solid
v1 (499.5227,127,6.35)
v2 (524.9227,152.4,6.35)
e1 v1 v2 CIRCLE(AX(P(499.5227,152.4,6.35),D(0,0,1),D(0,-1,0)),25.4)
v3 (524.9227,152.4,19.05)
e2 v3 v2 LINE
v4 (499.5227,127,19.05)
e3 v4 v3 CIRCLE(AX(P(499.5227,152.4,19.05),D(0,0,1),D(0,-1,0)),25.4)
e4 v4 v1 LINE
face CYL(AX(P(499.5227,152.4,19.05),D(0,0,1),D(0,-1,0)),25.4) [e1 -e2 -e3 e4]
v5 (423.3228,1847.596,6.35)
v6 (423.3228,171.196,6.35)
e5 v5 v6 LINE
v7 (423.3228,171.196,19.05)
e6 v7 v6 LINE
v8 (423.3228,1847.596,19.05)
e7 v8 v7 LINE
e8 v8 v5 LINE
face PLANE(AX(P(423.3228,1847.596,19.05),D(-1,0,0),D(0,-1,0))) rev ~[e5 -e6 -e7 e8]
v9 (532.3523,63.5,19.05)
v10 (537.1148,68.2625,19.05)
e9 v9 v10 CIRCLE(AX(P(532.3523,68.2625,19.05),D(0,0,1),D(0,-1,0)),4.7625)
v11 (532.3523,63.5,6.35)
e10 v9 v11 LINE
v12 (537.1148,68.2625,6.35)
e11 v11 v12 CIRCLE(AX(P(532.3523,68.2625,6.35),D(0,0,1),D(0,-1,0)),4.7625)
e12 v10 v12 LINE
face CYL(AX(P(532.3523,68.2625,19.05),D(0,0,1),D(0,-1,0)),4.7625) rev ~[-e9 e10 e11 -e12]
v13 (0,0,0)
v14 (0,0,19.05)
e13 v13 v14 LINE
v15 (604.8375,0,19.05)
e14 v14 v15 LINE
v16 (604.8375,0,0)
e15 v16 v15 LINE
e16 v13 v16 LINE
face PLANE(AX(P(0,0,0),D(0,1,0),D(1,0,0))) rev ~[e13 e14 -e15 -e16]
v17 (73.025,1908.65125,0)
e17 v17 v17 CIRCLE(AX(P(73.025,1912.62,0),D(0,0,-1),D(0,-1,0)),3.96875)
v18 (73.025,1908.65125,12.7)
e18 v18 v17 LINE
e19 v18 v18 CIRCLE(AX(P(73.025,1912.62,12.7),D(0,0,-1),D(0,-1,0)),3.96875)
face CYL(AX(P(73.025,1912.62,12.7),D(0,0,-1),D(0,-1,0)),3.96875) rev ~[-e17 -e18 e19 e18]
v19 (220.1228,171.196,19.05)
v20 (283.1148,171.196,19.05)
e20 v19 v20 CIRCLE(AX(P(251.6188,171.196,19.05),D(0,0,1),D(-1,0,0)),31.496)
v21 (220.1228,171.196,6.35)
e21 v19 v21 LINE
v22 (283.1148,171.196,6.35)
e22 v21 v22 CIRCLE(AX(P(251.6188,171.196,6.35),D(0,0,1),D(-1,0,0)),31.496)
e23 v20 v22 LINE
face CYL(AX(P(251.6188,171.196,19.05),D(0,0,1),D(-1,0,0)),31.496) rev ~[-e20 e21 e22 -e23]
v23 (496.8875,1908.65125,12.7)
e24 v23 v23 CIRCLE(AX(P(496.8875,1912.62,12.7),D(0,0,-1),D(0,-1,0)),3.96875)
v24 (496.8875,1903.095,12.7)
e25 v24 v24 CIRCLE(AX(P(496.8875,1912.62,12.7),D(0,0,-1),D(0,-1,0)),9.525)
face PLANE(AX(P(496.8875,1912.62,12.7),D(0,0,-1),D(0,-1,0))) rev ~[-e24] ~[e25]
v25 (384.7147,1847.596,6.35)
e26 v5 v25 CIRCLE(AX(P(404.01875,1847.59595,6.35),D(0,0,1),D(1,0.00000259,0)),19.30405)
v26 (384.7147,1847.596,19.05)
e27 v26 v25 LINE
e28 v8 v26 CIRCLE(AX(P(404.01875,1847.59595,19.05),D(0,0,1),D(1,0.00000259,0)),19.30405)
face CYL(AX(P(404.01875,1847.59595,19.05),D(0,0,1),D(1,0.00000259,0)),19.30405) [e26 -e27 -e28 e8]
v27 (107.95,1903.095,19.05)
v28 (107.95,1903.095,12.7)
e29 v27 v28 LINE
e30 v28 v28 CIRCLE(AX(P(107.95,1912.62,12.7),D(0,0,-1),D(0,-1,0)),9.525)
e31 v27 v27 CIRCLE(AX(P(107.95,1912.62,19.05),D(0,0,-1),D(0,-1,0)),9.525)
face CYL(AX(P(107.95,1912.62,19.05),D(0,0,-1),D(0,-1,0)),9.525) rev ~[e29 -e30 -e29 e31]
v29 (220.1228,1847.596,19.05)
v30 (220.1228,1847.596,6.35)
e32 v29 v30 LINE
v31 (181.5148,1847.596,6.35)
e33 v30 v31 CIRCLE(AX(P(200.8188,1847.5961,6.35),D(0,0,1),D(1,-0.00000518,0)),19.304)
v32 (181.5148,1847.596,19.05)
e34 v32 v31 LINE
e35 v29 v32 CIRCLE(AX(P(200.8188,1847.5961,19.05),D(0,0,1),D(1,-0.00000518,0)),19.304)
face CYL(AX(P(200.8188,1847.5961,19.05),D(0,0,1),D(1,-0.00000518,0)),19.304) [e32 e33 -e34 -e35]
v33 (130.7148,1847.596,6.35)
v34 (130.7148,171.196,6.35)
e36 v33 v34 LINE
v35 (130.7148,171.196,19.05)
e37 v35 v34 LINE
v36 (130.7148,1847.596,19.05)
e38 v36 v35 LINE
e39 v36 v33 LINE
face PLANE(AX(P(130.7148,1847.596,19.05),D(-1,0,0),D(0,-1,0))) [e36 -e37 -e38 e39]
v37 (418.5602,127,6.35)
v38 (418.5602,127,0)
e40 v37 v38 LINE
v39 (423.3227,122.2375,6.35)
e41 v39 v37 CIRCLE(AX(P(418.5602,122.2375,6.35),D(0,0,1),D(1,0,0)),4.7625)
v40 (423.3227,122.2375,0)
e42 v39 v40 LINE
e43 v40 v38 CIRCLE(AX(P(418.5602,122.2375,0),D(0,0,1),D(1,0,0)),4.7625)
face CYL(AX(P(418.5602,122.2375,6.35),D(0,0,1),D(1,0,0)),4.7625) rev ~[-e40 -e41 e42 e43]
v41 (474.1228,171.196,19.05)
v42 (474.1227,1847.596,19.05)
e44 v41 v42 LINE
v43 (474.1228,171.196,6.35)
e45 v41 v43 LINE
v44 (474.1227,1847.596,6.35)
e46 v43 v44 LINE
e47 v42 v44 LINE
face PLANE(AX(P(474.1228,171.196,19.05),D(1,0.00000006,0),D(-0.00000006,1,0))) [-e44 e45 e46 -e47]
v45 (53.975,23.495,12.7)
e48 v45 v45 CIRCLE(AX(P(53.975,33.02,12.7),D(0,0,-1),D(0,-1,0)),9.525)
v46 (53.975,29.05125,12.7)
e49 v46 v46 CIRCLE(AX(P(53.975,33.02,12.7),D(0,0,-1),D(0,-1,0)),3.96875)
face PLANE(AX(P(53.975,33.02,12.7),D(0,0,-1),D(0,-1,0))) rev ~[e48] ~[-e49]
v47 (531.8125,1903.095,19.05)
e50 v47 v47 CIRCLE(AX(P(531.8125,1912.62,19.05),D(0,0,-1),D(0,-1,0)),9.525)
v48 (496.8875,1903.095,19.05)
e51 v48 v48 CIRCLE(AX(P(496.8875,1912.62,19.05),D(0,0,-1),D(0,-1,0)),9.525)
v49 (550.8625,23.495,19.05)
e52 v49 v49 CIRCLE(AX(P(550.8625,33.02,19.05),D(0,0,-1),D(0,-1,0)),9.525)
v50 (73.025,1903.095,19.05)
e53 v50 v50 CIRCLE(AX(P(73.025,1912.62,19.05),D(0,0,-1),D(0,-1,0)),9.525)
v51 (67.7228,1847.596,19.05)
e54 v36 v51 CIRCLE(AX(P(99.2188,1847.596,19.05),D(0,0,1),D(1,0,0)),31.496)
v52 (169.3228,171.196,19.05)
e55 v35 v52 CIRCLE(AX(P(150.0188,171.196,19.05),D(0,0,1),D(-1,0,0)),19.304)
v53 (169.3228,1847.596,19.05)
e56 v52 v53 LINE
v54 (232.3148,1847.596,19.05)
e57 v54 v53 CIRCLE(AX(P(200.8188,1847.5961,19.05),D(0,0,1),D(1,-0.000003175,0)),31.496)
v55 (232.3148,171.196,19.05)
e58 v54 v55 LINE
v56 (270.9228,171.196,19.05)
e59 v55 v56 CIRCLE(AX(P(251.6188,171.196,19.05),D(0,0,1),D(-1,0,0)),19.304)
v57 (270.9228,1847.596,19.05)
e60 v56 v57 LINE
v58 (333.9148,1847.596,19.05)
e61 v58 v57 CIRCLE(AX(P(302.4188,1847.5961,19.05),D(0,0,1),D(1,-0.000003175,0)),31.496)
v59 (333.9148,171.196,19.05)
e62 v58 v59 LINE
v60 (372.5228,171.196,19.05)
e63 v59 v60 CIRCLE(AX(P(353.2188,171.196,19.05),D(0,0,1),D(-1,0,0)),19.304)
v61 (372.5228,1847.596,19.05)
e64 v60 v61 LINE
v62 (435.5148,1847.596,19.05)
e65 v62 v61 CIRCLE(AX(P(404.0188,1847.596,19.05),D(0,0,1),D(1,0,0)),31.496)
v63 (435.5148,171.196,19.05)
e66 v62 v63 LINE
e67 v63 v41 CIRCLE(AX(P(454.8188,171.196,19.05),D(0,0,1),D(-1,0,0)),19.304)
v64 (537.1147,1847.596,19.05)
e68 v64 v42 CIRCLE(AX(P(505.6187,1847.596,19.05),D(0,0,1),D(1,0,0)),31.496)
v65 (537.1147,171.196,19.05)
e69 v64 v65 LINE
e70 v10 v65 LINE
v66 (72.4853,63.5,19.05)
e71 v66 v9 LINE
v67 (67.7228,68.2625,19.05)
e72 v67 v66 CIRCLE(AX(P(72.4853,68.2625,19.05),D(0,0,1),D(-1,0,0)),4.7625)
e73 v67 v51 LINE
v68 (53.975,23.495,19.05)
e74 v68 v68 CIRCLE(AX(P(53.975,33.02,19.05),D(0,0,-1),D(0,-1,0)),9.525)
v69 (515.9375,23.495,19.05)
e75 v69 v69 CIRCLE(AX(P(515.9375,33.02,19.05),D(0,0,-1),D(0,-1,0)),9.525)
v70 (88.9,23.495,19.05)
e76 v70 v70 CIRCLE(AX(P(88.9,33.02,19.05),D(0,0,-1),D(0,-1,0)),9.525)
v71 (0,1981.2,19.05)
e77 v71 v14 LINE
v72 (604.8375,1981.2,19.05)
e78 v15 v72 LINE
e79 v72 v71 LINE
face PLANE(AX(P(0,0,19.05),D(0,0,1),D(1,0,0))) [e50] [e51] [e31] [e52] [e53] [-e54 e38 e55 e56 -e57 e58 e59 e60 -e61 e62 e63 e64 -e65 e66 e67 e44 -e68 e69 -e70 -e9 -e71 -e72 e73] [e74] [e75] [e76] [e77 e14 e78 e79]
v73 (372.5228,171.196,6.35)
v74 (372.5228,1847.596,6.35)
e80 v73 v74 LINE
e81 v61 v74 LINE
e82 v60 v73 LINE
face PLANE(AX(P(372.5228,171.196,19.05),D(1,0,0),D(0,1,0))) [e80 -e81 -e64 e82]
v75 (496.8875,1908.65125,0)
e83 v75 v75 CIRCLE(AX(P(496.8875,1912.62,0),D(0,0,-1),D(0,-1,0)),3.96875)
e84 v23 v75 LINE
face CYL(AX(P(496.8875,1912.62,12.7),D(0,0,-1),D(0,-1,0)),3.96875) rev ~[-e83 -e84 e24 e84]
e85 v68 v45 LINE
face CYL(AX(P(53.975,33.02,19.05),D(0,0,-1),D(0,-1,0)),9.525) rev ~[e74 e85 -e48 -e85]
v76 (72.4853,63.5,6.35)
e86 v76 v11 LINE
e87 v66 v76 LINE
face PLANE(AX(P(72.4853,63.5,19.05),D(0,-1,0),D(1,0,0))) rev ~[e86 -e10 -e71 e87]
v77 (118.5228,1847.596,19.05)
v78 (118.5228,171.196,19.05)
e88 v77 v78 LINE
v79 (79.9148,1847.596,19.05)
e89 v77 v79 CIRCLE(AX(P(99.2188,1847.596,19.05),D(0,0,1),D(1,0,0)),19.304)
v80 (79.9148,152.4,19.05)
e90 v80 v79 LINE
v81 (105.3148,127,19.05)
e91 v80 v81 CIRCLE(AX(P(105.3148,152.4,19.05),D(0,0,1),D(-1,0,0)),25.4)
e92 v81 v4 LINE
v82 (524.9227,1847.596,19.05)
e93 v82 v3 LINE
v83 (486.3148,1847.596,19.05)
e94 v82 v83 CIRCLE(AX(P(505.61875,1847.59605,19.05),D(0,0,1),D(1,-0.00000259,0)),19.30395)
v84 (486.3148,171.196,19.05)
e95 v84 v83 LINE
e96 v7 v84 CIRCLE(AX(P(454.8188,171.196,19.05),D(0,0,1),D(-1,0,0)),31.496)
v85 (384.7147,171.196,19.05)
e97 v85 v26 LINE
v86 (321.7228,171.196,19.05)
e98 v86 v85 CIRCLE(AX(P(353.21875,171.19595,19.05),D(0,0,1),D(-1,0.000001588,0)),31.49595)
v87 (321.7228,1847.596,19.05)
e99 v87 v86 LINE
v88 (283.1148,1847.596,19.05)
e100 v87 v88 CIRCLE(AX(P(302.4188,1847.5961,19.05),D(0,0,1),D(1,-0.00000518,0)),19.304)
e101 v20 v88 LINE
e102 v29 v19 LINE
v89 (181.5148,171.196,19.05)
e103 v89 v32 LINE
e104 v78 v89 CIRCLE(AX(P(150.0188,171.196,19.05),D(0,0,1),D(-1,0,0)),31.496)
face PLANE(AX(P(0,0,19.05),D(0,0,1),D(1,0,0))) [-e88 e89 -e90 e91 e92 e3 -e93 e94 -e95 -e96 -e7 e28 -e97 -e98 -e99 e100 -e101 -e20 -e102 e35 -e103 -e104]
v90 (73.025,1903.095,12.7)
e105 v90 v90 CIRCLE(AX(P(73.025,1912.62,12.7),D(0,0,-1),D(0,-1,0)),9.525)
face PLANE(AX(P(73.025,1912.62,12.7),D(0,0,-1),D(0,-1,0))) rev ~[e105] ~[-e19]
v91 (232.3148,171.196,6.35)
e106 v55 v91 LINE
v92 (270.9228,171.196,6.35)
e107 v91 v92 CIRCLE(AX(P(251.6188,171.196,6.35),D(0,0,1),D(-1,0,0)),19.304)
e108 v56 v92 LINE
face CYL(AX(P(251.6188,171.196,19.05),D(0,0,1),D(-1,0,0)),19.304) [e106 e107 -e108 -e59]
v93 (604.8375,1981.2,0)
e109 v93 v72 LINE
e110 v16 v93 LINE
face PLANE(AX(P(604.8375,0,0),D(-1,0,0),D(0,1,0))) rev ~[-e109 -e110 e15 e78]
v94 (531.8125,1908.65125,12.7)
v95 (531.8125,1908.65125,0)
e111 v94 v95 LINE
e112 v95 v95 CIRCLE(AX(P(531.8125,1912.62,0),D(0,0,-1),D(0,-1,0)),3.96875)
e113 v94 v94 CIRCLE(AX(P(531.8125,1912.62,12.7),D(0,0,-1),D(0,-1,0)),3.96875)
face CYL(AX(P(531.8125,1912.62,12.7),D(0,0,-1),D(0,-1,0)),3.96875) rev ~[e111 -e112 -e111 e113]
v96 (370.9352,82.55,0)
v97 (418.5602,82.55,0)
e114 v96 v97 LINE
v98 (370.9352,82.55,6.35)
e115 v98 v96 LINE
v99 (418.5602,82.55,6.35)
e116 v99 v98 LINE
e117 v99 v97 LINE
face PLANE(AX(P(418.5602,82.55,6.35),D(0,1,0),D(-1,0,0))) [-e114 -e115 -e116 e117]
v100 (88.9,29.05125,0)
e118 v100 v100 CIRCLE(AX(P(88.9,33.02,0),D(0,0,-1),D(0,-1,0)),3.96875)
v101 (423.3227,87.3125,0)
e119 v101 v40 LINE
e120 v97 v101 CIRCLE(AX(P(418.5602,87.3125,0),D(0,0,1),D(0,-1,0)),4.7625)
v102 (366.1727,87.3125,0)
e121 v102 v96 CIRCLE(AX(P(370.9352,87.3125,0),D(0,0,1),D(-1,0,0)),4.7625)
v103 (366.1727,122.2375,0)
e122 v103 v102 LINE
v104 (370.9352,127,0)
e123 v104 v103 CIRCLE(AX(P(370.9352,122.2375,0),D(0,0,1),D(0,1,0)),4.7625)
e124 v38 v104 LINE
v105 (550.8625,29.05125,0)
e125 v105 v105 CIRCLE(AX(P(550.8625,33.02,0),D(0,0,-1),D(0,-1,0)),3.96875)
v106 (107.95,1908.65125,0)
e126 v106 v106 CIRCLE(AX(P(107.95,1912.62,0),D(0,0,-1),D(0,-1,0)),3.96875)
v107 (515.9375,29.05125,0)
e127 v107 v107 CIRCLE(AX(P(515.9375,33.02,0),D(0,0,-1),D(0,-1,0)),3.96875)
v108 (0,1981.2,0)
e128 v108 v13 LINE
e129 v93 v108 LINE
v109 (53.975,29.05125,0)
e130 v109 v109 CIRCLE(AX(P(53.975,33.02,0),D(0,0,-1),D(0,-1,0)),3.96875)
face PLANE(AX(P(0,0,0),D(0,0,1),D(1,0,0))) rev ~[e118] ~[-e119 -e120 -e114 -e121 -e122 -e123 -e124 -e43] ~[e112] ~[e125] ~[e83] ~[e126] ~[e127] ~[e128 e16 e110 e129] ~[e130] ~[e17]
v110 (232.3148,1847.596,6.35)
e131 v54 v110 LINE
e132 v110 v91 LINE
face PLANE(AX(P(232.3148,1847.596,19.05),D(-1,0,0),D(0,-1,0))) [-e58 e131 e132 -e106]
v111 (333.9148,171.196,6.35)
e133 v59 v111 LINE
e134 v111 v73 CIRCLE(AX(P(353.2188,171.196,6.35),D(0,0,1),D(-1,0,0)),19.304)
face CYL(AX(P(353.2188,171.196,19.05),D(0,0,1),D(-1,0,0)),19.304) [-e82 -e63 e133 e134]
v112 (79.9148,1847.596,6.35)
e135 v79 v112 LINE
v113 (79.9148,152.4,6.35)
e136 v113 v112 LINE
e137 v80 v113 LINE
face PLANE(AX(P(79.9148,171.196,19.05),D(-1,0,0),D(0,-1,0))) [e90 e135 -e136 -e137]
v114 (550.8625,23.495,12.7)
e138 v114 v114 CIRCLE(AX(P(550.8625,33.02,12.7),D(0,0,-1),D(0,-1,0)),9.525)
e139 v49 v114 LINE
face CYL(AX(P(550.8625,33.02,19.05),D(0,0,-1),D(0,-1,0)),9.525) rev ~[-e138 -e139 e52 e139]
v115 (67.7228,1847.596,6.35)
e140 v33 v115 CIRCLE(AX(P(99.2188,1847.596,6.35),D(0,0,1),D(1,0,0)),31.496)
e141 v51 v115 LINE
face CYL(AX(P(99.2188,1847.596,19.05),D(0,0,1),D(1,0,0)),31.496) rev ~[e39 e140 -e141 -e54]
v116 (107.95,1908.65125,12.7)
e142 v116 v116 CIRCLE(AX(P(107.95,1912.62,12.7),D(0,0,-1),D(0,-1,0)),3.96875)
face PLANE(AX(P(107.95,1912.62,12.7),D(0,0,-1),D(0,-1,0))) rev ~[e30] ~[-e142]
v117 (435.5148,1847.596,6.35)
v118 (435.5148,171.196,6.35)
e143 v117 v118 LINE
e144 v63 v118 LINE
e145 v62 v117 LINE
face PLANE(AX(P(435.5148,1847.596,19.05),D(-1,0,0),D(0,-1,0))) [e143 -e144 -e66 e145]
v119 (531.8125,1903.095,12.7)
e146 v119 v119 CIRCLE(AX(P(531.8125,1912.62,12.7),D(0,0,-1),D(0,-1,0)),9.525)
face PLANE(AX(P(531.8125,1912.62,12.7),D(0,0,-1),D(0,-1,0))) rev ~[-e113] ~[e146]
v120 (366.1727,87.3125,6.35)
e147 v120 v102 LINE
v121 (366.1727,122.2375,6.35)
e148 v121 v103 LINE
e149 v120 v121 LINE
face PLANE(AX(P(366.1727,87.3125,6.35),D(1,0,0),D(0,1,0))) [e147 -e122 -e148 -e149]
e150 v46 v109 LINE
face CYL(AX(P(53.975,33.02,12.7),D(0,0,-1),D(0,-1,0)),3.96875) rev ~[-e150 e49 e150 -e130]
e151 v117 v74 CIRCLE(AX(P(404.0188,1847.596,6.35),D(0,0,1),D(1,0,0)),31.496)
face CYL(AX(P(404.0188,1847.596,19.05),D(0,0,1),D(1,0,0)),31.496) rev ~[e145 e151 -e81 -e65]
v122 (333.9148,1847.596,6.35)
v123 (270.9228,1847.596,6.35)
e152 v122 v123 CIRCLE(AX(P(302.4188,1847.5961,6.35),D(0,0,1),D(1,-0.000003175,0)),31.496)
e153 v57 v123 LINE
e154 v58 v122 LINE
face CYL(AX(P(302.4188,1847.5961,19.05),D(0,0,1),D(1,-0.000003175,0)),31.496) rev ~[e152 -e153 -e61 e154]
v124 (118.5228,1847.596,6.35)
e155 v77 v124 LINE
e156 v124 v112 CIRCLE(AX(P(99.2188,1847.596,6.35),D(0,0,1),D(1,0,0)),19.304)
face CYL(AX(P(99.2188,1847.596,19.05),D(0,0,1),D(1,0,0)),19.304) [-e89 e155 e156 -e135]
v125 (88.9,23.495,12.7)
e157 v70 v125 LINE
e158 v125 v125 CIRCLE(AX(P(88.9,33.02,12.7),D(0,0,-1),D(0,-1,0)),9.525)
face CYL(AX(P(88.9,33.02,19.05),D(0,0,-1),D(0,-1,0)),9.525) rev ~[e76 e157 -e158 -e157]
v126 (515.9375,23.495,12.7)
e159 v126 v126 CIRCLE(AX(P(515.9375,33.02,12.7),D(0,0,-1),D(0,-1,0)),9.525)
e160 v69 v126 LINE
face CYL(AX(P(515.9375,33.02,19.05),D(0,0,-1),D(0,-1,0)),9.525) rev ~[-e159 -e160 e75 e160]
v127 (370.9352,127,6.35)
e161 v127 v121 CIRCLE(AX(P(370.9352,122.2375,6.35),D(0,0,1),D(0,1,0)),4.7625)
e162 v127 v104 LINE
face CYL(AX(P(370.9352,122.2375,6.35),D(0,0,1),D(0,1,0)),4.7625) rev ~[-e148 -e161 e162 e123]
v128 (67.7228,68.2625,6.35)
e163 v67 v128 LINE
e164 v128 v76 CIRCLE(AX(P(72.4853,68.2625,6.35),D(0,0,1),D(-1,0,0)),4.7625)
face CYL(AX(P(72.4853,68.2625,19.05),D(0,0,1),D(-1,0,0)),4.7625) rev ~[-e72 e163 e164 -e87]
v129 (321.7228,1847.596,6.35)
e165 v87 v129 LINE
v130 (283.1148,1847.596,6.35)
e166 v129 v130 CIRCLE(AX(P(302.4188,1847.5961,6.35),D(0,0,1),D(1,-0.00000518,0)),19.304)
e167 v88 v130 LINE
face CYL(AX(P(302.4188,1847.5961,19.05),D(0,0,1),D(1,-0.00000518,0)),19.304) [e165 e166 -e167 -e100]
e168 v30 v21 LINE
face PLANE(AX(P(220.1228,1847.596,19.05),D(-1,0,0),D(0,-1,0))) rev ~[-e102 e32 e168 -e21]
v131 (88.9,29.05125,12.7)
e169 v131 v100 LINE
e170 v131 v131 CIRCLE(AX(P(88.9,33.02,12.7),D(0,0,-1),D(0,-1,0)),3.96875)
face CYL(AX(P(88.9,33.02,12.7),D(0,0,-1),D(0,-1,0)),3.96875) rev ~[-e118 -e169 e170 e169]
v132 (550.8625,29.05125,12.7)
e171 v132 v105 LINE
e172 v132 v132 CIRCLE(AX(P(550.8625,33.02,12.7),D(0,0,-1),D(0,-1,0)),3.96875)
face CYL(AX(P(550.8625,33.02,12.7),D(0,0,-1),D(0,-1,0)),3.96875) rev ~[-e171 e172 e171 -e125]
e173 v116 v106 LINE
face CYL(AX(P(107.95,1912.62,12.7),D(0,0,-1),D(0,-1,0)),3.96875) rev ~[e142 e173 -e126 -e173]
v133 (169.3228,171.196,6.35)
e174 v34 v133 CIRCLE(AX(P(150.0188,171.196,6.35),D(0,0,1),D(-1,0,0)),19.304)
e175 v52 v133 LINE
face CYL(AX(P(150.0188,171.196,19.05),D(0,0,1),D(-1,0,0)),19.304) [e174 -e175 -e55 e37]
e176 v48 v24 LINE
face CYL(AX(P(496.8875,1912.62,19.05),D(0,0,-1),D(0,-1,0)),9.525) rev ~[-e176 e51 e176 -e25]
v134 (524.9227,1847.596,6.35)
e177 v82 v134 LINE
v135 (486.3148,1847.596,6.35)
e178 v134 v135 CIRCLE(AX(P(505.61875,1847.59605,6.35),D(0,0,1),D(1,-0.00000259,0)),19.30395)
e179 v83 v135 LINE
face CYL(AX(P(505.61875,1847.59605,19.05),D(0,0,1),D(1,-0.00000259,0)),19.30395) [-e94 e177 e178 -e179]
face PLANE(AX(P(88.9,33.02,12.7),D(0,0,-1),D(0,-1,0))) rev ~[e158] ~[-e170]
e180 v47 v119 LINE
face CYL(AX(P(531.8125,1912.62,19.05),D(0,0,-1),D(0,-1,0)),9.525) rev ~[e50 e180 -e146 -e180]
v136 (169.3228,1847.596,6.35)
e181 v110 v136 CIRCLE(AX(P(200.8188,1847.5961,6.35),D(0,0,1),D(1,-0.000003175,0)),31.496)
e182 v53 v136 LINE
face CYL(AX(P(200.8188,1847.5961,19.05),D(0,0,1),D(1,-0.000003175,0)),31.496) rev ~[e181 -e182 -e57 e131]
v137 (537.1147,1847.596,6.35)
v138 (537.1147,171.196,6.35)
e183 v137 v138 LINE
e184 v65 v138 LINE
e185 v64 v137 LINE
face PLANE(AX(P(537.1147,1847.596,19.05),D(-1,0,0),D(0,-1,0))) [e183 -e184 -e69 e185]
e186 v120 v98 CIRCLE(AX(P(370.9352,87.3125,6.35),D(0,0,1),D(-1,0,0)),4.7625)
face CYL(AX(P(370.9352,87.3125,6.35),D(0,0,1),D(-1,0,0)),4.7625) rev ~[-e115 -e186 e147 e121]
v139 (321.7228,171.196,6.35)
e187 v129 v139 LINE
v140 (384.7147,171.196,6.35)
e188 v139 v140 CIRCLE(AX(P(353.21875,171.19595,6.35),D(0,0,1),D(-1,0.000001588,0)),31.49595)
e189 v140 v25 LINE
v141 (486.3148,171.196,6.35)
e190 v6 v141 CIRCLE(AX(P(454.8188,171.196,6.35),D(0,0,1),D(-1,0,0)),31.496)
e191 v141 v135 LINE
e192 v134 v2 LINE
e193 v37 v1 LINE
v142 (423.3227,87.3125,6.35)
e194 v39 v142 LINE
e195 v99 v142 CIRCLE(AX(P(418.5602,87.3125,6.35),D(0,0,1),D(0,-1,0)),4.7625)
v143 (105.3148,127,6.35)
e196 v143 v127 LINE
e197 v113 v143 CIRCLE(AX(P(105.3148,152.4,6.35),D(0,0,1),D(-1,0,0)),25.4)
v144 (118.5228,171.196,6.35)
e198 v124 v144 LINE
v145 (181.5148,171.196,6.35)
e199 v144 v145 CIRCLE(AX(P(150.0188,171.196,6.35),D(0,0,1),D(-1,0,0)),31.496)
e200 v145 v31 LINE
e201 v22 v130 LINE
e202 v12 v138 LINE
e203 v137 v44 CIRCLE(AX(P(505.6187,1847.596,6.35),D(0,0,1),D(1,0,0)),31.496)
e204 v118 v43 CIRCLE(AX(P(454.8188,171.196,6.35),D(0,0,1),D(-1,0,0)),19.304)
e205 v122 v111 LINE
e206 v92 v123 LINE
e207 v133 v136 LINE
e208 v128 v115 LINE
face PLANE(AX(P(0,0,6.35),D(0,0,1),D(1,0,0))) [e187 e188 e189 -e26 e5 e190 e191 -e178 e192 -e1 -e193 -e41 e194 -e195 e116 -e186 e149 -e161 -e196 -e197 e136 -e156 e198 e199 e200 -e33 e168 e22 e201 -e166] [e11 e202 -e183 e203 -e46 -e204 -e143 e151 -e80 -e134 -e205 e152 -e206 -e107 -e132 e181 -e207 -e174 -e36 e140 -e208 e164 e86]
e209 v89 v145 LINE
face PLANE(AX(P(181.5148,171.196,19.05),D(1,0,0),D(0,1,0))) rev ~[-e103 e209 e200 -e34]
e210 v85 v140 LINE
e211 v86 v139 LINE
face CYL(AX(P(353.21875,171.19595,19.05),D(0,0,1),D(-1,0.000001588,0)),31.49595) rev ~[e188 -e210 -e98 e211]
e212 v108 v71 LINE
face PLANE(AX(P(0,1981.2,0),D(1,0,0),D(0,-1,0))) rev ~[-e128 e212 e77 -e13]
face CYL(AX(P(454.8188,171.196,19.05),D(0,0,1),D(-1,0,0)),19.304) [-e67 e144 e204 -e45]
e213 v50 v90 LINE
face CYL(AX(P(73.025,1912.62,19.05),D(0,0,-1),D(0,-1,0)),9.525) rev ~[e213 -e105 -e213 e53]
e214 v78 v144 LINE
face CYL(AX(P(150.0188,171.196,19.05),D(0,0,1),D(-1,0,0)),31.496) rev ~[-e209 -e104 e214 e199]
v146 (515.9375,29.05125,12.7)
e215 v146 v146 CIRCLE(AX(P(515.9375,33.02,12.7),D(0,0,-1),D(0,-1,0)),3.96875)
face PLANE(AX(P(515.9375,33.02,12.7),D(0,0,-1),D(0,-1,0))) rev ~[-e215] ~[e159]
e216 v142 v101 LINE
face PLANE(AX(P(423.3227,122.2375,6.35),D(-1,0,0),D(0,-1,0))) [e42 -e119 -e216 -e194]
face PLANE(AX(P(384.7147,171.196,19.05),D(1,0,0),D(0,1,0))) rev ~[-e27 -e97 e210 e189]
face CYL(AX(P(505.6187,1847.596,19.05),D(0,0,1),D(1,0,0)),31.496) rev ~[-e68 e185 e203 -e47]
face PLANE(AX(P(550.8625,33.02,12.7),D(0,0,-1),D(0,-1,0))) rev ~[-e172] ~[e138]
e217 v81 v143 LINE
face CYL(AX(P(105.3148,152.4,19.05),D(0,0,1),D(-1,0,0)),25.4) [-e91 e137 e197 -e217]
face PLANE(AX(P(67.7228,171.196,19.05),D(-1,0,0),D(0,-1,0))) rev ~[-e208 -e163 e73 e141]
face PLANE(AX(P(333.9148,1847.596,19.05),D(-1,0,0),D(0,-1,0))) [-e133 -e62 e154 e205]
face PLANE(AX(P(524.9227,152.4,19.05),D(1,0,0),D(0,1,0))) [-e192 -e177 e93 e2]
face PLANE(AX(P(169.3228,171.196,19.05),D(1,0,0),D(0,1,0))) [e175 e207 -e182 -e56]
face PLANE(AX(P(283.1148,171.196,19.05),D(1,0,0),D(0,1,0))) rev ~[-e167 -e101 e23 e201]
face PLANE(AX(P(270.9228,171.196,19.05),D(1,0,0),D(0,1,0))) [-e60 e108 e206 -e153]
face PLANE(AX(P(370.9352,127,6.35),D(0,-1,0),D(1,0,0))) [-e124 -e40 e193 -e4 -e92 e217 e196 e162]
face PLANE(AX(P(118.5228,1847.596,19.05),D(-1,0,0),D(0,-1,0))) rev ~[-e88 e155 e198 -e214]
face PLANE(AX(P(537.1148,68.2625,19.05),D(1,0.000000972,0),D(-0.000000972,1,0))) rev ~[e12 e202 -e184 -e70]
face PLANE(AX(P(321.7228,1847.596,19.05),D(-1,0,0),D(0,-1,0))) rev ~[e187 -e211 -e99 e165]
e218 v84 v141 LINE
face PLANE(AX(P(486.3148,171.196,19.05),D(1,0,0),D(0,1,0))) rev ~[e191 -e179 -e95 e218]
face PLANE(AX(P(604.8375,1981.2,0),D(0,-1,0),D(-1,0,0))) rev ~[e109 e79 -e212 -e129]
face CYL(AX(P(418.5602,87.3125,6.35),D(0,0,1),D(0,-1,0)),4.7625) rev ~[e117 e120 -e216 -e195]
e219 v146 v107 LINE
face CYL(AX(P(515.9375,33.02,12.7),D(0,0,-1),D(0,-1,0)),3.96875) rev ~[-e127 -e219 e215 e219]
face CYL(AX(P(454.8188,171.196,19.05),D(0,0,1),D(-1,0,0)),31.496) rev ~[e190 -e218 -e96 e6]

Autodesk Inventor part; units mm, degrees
ref_plane "YZ Plane" through (0, 0, 0) normal (1, 0, 0) x (0, 1, 0)
ref_plane "XZ Plane" through (0, 0, 0) normal (0, 1, 0) x (-1, 0, 0)
ref_plane "XY Plane" through (0, 0, 0) normal (0, 0, 1) x (1, 0, 0)
sketch "TwoLineColumn" plane through (0, 0, 0) normal (0, 0, 1) x (1, 0, 0)
  line L0 (50.8, -753.9609) -> (50.8, 922.4391) construction
  line L1 (101.6, -753.9609) -> (101.6, 922.4391) construction
  arc A0 (101.6, 922.4391) -> (50.8, 922.4391) centre (76.2, 922.4391) ccw construction
  arc A1 (101.6, -753.9609) -> (152.4, -753.9609) centre (127, -753.9609) ccw construction
  line L2 (56.896, -753.9609) -> (56.896, 922.4391)
  arc A2 (95.504, 922.4391) -> (56.896, 922.4391) centre (76.2, 922.4391) ccw
  line L3 (95.504, 922.4391) -> (95.504, -753.9609)
  arc A3 (95.504, -753.9609) -> (158.496, -753.9609) centre (127, -753.9609) ccw
  line L4 (44.704, -753.9609) -> (44.704, 922.4391)
  arc A4 (107.696, 922.4391) -> (44.704, 922.4391) centre (76.2, 922.4391) ccw
  line L5 (107.696, 922.4391) -> (107.696, -753.9609)
  arc A5 (107.696, -753.9609) -> (146.304, -753.9609) centre (127, -753.9609) ccw
  line L6 (50.8, -753.9609) -> (152.4, -753.9609) construction
  dimension "d4" = 1676.4
  dimension "lineSpacing" = 50.8
  dimension "d6" = 25.4
  dimension "d9" = 6.096
  dimension "d10" = 6.096
sketch "TwoLineColumnEnd" plane through (0, 0, 0) normal (0, 0, 1) x (1, 0, 0)
  line L0 (103.0524, -945.1843) -> (103.0524, 731.2157)
  arc A0 (166.0444, 731.2157) -> (103.0524, 731.2157) centre (134.5484, 731.2157) ccw
  line L1 (166.0444, 731.2157) -> (166.0444, -945.1843)
  line L2 (109.1484, -945.1843) -> (109.1484, 731.2157) construction
  line L3 (159.9484, -945.1843) -> (159.9484, 731.2157) construction
  arc A1 (159.9484, 731.2157) -> (109.1484, 731.2157) centre (134.5484, 731.2157) ccw construction
  line L4 (115.2444, -945.1843) -> (115.2444, 731.2157)
  arc A2 (153.8524, 731.2157) -> (115.2444, 731.2157) centre (134.5484, 731.2157) ccw
  line L5 (153.8524, 731.2157) -> (153.8524, -945.1843)
  line L6 (109.1484, -945.1843) -> (159.9484, -945.1843) construction
  dimension "d22" = 1676.4
  dimension "d23" = 50.8
  dimension "d25" = 6.096
  dimension "d26" = 6.096
  dimension "d29" = 50.8
sketch "15mm Neon profile" plane through (0, 0, 0) normal (0, 0, 1) x (1, 0, 0)
  circle A0 centre (522.6685, 24.7098) radius 6.985 construction
  line L0 (516.6995, 21.082) -> (528.6375, 21.082) construction
  line L1 (528.6375, 21.082) -> (528.6375, 6.35) construction
  line L2 (528.6375, 6.35) -> (516.6995, 6.35) construction
  line L3 (516.6995, 6.35) -> (516.6995, 21.082) construction
  point P0 (522.6685, 16.011)
  dimension "d73" = 13.97
  dimension "d74" = 11.938
  dimension "d76" = 14.732
sketch "U Bolt hole and bore" plane through (0, 0, 0) normal (0, 0, 1) x (1, 0, 0)
  circle A0 centre (40.0435, 30.4025) radius 9.525
  circle A1 centre (74.9685, 30.4025) radius 9.525
  circle A2 centre (40.0435, 30.4025) radius 3.9688
  circle A3 centre (74.9685, 30.4025) radius 3.9688
  point P0 (68.2625, 33.02)
  dimension "d100" = 19.05
  dimension "d102" = 34.925
  dimension "d105" = 7.9375
sketch "Stock" plane through (0, 0, 0) normal (0, 0, 1) x (1, 0, 0)
  line L0 (0, 0) -> (604.8375, 0)
  line L1 (604.8375, 0) -> (604.8375, 1981.2)
  line L2 (604.8375, 1981.2) -> (0, 1981.2)
  line L3 (0, 1981.2) -> (0, 0)
  dimension "d1" = 604.8375
  dimension "d2" = 1981.2
extrude "Stck Extrusion" add sketch "Stock" along normal blind 19.05
sketch "LEDPocket" plane through (0, 0, 19.05) normal (0, 0, 1) x (1, 0, 0)
  line L0 (0, 0) -> (604.8375, 0) projected
  line L1 (604.8375, 0) -> (604.8375, 1981.2) projected
  line L2 (63.5, 1981.2) -> (63.5, 0) construction
  line L3 (541.3375, 1981.2) -> (541.3375, 0) construction
  line L4 (67.7228, 171.196) -> (67.7228, 68.2625)
  line L5 (72.4853, 63.5) -> (532.3523, 63.5)
  line L6 (537.1148, 68.2625) -> (537.1147, 171.196)
  line L7 (79.9148, 171.196) -> (79.9148, 152.4)
  line L8 (105.3148, 127) -> (499.5227, 127)
  line L9 (524.9227, 152.4) -> (524.9227, 171.196)
  arc A0 (79.9148, 152.4) -> (105.3148, 127) centre (105.3148, 152.4) ccw
  arc A1 (499.5227, 127) -> (524.9227, 152.4) centre (499.5227, 152.4) ccw
  arc A2 (67.7228, 68.2625) -> (72.4853, 63.5) centre (72.4853, 68.2625) ccw
  arc A3 (532.3523, 63.5) -> (537.1148, 68.2625) centre (532.3523, 68.2625) ccw
  line L10 (474.1228, 171.196) -> (474.1227, 1847.596)
  arc A4 (537.1147, 1847.596) -> (474.1227, 1847.596) centre (505.6187, 1847.596) ccw
  line L11 (537.1147, 1847.596) -> (537.1147, 171.196)
  line L12 (480.2188, 171.196) -> (480.2188, 1847.596) construction
  line L13 (531.0187, 171.196) -> (531.0187, 1847.596) construction
  arc A5 (531.0187, 1847.596) -> (480.2188, 1847.596) centre (505.6187, 1847.596) ccw construction
  line L14 (486.3148, 171.196) -> (486.3148, 1847.596)
  arc A6 (524.9227, 1847.596) -> (486.3148, 1847.596) centre (505.6187, 1847.596) ccw
  line L15 (524.9227, 1847.596) -> (524.9227, 171.196)
  line L16 (480.2188, 171.196) -> (531.0187, 171.196) construction
  line L17 (67.7228, 171.196) -> (67.7228, 1847.596)
  arc A7 (130.7148, 1847.596) -> (67.7228, 1847.596) centre (99.2188, 1847.596) ccw
  line L18 (130.7148, 1847.596) -> (130.7148, 171.196)
  arc A8 (130.7148, 171.196) -> (169.3228, 171.196) centre (150.0188, 171.196) ccw
  line L19 (73.8188, 171.196) -> (73.8188, 1847.596) construction
  line L20 (124.6188, 171.196) -> (124.6188, 1847.596) construction
  arc A9 (124.6188, 1847.596) -> (73.8188, 1847.596) centre (99.2188, 1847.596) ccw construction
  arc A10 (124.6188, 171.196) -> (175.4188, 171.196) centre (150.0188, 171.196) ccw construction
  line L21 (79.9148, 171.196) -> (79.9148, 1847.596)
  arc A11 (118.5228, 1847.596) -> (79.9148, 1847.596) centre (99.2188, 1847.596) ccw
  line L22 (118.5228, 1847.596) -> (118.5228, 171.196)
  arc A12 (118.5228, 171.196) -> (181.5148, 171.196) centre (150.0188, 171.196) ccw
  line L23 (73.8188, 171.196) -> (175.4188, 171.196) construction
  line L24 (169.3228, 171.196) -> (169.3228, 1847.596)
  arc A13 (232.3148, 1847.596) -> (169.3228, 1847.596) centre (200.8187, 1847.596) ccw
  line L25 (232.3148, 1847.596) -> (232.3148, 171.196)
  arc A14 (232.3148, 171.196) -> (270.9228, 171.196) centre (251.6188, 171.196) ccw
  line L26 (175.4188, 171.196) -> (175.4188, 1847.596) construction
  line L27 (226.2188, 171.196) -> (226.2188, 1847.596) construction
  arc A15 (226.2188, 1847.596) -> (175.4188, 1847.596) centre (200.8187, 1847.596) ccw construction
  arc A16 (226.2188, 171.196) -> (277.0188, 171.196) centre (251.6188, 171.196) ccw construction
  line L28 (181.5148, 171.196) -> (181.5148, 1847.596)
  arc A17 (220.1228, 1847.596) -> (181.5148, 1847.596) centre (200.8187, 1847.596) ccw
  line L29 (220.1228, 1847.596) -> (220.1228, 171.196)
  arc A18 (220.1228, 171.196) -> (283.1148, 171.196) centre (251.6188, 171.196) ccw
  line L30 (270.9228, 171.196) -> (270.9228, 1847.596)
  arc A19 (333.9148, 1847.596) -> (270.9228, 1847.596) centre (302.4187, 1847.596) ccw
  line L31 (333.9148, 1847.596) -> (333.9148, 171.196)
  arc A20 (333.9148, 171.196) -> (372.5228, 171.196) centre (353.2188, 171.196) ccw
  line L32 (277.0188, 171.196) -> (277.0188, 1847.596) construction
  line L33 (327.8188, 171.196) -> (327.8188, 1847.596) construction
  arc A21 (327.8188, 1847.596) -> (277.0188, 1847.596) centre (302.4187, 1847.596) ccw construction
  arc A22 (327.8188, 171.196) -> (378.6188, 171.196) centre (353.2188, 171.196) ccw construction
  line L34 (283.1148, 171.196) -> (283.1148, 1847.596)
  arc A23 (321.7228, 1847.596) -> (283.1148, 1847.596) centre (302.4187, 1847.596) ccw
  line L35 (321.7228, 1847.596) -> (321.7228, 171.196)
  arc A24 (321.7228, 171.196) -> (384.7147, 171.196) centre (353.2188, 171.196) ccw
  line L36 (372.5228, 171.196) -> (372.5228, 1847.596)
  arc A25 (435.5148, 1847.596) -> (372.5228, 1847.596) centre (404.0188, 1847.596) ccw
  line L37 (435.5148, 1847.596) -> (435.5148, 171.196)
  arc A26 (435.5148, 171.196) -> (474.1228, 171.196) centre (454.8188, 171.196) ccw
  line L38 (378.6188, 171.196) -> (378.6188, 1847.596) construction
  line L39 (429.4188, 171.196) -> (429.4188, 1847.596) construction
  arc A27 (429.4188, 1847.596) -> (378.6188, 1847.596) centre (404.0188, 1847.596) ccw construction
  arc A28 (429.4188, 171.196) -> (480.2188, 171.196) centre (454.8188, 171.196) ccw construction
  line L40 (384.7147, 171.196) -> (384.7147, 1847.596)
  arc A29 (423.3228, 1847.596) -> (384.7147, 1847.596) centre (404.0188, 1847.596) ccw
  line L41 (423.3228, 1847.596) -> (423.3228, 171.196)
  arc A30 (423.3228, 171.196) -> (486.3148, 171.196) centre (454.8188, 171.196) ccw
  point P0 (0, 1981.2)
  point P1 (67.7228, 63.5)
  dimension "d7" = 73.8187
  dimension "d18" = 63.5
  dimension "d19" = 1981.2
  dimension "d20" = 1981.2
  dimension "d21" = 541.3375
  dimension "d31" = 63.5
  dimension "d32" = 63.5
  dimension "d33" = 44.196
  dimension "d34" = 25.4
  dimension "d35" = 4.7625
  dimension "d38" = 171.196
  dimension "d41" = 1676.4
  dimension "d42" = 50.8
  dimension "d43" = 6.096
  dimension "d44" = 6.096
  dimension "d45" = 50.8
  dimension "d49" = 1676.4
  dimension "d50" = 50.8
  dimension "d51" = 25.4
  dimension "d52" = 6.096
  dimension "d53" = 6.096
  dimension "d89" = 133.604
extrude "LED Extrusion3" cut sketch "LEDPocket" against normal blind 12.7
sketch "Side profile reference" plane through (0, 0, 0) normal (0, -1, 0) x (1, 0, 0)
  line L0 (0, 0) -> (604.8375, 0) projected
  line L1 (604.8375, 0) -> (604.8375, 19.05) projected
  line L2 (0, 19.05) -> (604.8375, 19.05) projected
  line L3 (0, 0) -> (0, 19.05) projected
  line L4 (598.4875, 38.1) -> (586.2955, 38.1) construction
  line L5 (586.2955, 38.1) -> (586.2955, 25.4) construction
  line L6 (586.2955, 25.4) -> (598.4875, 25.4) construction
  line L7 (598.4875, 25.4) -> (598.4875, 38.1) construction
  line L8 (604.8375, 19.05) -> (541.3375, 19.05) construction
  line L9 (541.3375, 19.05) -> (541.3375, 38.1) construction
  line L10 (541.3375, 38.1) -> (604.8375, 38.1) construction
  line L11 (604.8375, 38.1) -> (604.8375, 19.05) construction
  line L12 (547.6875, 38.1) -> (573.0875, 38.1) construction
  line L13 (573.0875, 38.1) -> (573.0875, 40.64) construction
  line L14 (573.0875, 40.64) -> (547.6875, 40.64) construction
  line L15 (547.6875, 40.64) -> (547.6875, 38.1) construction
  line L16 (579.4375, 40.64) -> (516.6995, 40.64) construction
  line L17 (516.6995, 40.64) -> (516.6995, 45.847) construction
  line L18 (516.6995, 45.847) -> (579.4375, 45.847) construction
  line L19 (579.4375, 45.847) -> (579.4375, 40.64) construction
  point P0 (566.7375, 19.05)
  point P1 (592.3915, 25.4)
  point P2 (592.3915, 25.4)
  dimension "d75" = 12.7
  dimension "d80" = 12.192
  dimension "d88" = 6.35
  dimension "d90" = 63.5
  dimension "d91" = 19.05
  dimension "d92" = 25.4
  dimension "d93" = 2.54
  dimension "d94" = 6.35
  dimension "d95" = 12.7
  dimension "d96" = 6.35
  dimension "d97" = 5.207
  dimension "d98" = 0
  dimension "d99" = 12.7
sketch "U-Bolt holes" plane through (0, 0, 19.05) normal (0, 0, 1) x (1, 0, 0)
  line L0 (0, 0) -> (604.8375, 0) projected
  line L1 (604.8375, 0) -> (604.8375, 1981.2) projected
  line L2 (0, 1981.2) -> (0, 0) projected
  line L3 (604.8375, 1981.2) -> (0, 1981.2) projected
  point P0 (53.975, 33.02)
  point P1 (88.9, 33.02)
  point P2 (515.9375, 33.02)
  point P3 (550.8625, 33.02)
  point P4 (531.8125, 1912.62)
  point P5 (496.8875, 1912.62)
  point P6 (73.025, 1912.62)
  point P7 (107.95, 1912.62)
  dimension "d109" = 33.02
  dimension "d110" = 34.925
  dimension "d111" = 34.925
  dimension "d112" = 19.05
  dimension "d113" = 53.975
  dimension "d114" = 53.975
  dimension "d115" = 34.925
  dimension "d116" = 34.925
  dimension "d117" = 19.05
  dimension "d126" = 68.58
  dimension "d136" = 1879.6
hole "Hole1" at (73.025, 1912.62, 19.05) at (107.95, 1912.62, 19.05) at (496.8875, 1912.62, 19.05) at (531.8125, 1912.62, 19.05) at (550.8625, 33.02, 19.05) at (515.9375, 33.02, 19.05) at (88.9, 33.02, 19.05) at (53.975, 33.02, 19.05) direction (0, 0, -1) diameter 7.9375 end through all counterbore diameter 19.05 counterbore depth 6.35
sketch "Through panel" plane through (0, 0, 6.35) normal (0, 0, 1) x (1, 0, 0)
  line L0 (524.9227, 152.4) -> (524.9227, 1847.596) projected
  line L1 (105.3148, 127) -> (499.5227, 127) projected
  line L2 (370.9352, 127) -> (418.5602, 127)
  line L3 (423.3227, 122.2375) -> (423.3227, 87.3125)
  line L4 (418.5602, 82.55) -> (370.9352, 82.55)
  line L5 (366.1727, 87.3125) -> (366.1727, 122.2375)
  arc A0 (366.1727, 87.3125) -> (370.9352, 82.55) centre (370.9352, 87.3125) ccw
  arc A1 (418.5602, 82.55) -> (423.3227, 87.3125) centre (418.5602, 87.3125) ccw
  arc A2 (423.3227, 122.2375) -> (418.5602, 127) centre (418.5602, 122.2375) ccw
  arc A3 (370.9352, 127) -> (366.1727, 122.2375) centre (370.9352, 122.2375) ccw
  point P0 (0, 0)
  point P1 (366.1728, 127)
  point P2 (423.3227, 82.55)
  point P3 (423.3227, 127)
  point P4 (366.1728, 82.55)
  dimension "d130" = 57.15
  dimension "d131" = 44.45
  dimension "d132" = 4.7625
  dimension "d133" = 101.6
extrude "Extrusion5" cut sketch "Through panel" against normal up to next
equation "\"d7\" = -4.5 * lineSpacing + 0.5 * signW"
equation "\"d18\" = borderW"
equation "\"d31\" = borderW"
equation "\"d4\" = litH"
equation "\"d6\" = 0.5 * lineSpacing"
equation "\"d9\" = 0.5 * pathW"
equation "\"d10\" = 0.5 * pathW"
equation "\"d22\" = litH"
equation "\"d25\" = 0.5 * pathW"
equation "\"d26\" = 0.5 * pathW"
equation "\"d29\" = lineSpacing"
equation "\"d1\" = signW"
equation "\"d2\" = signH"
equation "\"d19\" = signH"
equation "\"d20\" = signH"
equation "\"d21\" = signW - borderW"
equation "\"d32\" = ePocketH"
equation "\"d33\" = litHClearanceH"
equation "\"d34\" = minBendR"
equation "\"d35\" = 0.5 * pathEndMillD"
equation "\"d41\" = d46"
equation "\"d43\" = 0.5 * d48"
equation "\"d44\" = 0.5 * d48"
equation "\"d45\" = d47"
equation "\"d49\" = d54"
equation "\"d51\" = 0.5 * d50"
equation "\"d52\" = 0.5 * d55"
equation "\"d53\" = 0.5 * d55"
equation "\"litH\" = 1676.4"
equation "\"borderW\" = 63.5"
equation "\"pathEndMillD\" = 9.525"
equation "\"signW\" = -0.5 * pathEndMillD + 0.5 * ply4x8w"
equation "\"pathW\" = 12.192"
equation "\"ply4x8w\" = 1219.2"
equation "\"signH\" = 1981.2"
equation "\"borderPadding\" = 12.7"
equation "\"ePocketH\" = 63.5"
equation "\"minBendR\" = 25.4"
equation "\"d46\" = 1676.4"
equation "\"d48\" = 12.192"
equation "\"d54\" = 1676.4"
equation "\"d55\" = 12.192"
equation "\"litHClearanceH\" = 44.196"
equation "\"d47\" = 50.8"
properties part number "Ply back"
